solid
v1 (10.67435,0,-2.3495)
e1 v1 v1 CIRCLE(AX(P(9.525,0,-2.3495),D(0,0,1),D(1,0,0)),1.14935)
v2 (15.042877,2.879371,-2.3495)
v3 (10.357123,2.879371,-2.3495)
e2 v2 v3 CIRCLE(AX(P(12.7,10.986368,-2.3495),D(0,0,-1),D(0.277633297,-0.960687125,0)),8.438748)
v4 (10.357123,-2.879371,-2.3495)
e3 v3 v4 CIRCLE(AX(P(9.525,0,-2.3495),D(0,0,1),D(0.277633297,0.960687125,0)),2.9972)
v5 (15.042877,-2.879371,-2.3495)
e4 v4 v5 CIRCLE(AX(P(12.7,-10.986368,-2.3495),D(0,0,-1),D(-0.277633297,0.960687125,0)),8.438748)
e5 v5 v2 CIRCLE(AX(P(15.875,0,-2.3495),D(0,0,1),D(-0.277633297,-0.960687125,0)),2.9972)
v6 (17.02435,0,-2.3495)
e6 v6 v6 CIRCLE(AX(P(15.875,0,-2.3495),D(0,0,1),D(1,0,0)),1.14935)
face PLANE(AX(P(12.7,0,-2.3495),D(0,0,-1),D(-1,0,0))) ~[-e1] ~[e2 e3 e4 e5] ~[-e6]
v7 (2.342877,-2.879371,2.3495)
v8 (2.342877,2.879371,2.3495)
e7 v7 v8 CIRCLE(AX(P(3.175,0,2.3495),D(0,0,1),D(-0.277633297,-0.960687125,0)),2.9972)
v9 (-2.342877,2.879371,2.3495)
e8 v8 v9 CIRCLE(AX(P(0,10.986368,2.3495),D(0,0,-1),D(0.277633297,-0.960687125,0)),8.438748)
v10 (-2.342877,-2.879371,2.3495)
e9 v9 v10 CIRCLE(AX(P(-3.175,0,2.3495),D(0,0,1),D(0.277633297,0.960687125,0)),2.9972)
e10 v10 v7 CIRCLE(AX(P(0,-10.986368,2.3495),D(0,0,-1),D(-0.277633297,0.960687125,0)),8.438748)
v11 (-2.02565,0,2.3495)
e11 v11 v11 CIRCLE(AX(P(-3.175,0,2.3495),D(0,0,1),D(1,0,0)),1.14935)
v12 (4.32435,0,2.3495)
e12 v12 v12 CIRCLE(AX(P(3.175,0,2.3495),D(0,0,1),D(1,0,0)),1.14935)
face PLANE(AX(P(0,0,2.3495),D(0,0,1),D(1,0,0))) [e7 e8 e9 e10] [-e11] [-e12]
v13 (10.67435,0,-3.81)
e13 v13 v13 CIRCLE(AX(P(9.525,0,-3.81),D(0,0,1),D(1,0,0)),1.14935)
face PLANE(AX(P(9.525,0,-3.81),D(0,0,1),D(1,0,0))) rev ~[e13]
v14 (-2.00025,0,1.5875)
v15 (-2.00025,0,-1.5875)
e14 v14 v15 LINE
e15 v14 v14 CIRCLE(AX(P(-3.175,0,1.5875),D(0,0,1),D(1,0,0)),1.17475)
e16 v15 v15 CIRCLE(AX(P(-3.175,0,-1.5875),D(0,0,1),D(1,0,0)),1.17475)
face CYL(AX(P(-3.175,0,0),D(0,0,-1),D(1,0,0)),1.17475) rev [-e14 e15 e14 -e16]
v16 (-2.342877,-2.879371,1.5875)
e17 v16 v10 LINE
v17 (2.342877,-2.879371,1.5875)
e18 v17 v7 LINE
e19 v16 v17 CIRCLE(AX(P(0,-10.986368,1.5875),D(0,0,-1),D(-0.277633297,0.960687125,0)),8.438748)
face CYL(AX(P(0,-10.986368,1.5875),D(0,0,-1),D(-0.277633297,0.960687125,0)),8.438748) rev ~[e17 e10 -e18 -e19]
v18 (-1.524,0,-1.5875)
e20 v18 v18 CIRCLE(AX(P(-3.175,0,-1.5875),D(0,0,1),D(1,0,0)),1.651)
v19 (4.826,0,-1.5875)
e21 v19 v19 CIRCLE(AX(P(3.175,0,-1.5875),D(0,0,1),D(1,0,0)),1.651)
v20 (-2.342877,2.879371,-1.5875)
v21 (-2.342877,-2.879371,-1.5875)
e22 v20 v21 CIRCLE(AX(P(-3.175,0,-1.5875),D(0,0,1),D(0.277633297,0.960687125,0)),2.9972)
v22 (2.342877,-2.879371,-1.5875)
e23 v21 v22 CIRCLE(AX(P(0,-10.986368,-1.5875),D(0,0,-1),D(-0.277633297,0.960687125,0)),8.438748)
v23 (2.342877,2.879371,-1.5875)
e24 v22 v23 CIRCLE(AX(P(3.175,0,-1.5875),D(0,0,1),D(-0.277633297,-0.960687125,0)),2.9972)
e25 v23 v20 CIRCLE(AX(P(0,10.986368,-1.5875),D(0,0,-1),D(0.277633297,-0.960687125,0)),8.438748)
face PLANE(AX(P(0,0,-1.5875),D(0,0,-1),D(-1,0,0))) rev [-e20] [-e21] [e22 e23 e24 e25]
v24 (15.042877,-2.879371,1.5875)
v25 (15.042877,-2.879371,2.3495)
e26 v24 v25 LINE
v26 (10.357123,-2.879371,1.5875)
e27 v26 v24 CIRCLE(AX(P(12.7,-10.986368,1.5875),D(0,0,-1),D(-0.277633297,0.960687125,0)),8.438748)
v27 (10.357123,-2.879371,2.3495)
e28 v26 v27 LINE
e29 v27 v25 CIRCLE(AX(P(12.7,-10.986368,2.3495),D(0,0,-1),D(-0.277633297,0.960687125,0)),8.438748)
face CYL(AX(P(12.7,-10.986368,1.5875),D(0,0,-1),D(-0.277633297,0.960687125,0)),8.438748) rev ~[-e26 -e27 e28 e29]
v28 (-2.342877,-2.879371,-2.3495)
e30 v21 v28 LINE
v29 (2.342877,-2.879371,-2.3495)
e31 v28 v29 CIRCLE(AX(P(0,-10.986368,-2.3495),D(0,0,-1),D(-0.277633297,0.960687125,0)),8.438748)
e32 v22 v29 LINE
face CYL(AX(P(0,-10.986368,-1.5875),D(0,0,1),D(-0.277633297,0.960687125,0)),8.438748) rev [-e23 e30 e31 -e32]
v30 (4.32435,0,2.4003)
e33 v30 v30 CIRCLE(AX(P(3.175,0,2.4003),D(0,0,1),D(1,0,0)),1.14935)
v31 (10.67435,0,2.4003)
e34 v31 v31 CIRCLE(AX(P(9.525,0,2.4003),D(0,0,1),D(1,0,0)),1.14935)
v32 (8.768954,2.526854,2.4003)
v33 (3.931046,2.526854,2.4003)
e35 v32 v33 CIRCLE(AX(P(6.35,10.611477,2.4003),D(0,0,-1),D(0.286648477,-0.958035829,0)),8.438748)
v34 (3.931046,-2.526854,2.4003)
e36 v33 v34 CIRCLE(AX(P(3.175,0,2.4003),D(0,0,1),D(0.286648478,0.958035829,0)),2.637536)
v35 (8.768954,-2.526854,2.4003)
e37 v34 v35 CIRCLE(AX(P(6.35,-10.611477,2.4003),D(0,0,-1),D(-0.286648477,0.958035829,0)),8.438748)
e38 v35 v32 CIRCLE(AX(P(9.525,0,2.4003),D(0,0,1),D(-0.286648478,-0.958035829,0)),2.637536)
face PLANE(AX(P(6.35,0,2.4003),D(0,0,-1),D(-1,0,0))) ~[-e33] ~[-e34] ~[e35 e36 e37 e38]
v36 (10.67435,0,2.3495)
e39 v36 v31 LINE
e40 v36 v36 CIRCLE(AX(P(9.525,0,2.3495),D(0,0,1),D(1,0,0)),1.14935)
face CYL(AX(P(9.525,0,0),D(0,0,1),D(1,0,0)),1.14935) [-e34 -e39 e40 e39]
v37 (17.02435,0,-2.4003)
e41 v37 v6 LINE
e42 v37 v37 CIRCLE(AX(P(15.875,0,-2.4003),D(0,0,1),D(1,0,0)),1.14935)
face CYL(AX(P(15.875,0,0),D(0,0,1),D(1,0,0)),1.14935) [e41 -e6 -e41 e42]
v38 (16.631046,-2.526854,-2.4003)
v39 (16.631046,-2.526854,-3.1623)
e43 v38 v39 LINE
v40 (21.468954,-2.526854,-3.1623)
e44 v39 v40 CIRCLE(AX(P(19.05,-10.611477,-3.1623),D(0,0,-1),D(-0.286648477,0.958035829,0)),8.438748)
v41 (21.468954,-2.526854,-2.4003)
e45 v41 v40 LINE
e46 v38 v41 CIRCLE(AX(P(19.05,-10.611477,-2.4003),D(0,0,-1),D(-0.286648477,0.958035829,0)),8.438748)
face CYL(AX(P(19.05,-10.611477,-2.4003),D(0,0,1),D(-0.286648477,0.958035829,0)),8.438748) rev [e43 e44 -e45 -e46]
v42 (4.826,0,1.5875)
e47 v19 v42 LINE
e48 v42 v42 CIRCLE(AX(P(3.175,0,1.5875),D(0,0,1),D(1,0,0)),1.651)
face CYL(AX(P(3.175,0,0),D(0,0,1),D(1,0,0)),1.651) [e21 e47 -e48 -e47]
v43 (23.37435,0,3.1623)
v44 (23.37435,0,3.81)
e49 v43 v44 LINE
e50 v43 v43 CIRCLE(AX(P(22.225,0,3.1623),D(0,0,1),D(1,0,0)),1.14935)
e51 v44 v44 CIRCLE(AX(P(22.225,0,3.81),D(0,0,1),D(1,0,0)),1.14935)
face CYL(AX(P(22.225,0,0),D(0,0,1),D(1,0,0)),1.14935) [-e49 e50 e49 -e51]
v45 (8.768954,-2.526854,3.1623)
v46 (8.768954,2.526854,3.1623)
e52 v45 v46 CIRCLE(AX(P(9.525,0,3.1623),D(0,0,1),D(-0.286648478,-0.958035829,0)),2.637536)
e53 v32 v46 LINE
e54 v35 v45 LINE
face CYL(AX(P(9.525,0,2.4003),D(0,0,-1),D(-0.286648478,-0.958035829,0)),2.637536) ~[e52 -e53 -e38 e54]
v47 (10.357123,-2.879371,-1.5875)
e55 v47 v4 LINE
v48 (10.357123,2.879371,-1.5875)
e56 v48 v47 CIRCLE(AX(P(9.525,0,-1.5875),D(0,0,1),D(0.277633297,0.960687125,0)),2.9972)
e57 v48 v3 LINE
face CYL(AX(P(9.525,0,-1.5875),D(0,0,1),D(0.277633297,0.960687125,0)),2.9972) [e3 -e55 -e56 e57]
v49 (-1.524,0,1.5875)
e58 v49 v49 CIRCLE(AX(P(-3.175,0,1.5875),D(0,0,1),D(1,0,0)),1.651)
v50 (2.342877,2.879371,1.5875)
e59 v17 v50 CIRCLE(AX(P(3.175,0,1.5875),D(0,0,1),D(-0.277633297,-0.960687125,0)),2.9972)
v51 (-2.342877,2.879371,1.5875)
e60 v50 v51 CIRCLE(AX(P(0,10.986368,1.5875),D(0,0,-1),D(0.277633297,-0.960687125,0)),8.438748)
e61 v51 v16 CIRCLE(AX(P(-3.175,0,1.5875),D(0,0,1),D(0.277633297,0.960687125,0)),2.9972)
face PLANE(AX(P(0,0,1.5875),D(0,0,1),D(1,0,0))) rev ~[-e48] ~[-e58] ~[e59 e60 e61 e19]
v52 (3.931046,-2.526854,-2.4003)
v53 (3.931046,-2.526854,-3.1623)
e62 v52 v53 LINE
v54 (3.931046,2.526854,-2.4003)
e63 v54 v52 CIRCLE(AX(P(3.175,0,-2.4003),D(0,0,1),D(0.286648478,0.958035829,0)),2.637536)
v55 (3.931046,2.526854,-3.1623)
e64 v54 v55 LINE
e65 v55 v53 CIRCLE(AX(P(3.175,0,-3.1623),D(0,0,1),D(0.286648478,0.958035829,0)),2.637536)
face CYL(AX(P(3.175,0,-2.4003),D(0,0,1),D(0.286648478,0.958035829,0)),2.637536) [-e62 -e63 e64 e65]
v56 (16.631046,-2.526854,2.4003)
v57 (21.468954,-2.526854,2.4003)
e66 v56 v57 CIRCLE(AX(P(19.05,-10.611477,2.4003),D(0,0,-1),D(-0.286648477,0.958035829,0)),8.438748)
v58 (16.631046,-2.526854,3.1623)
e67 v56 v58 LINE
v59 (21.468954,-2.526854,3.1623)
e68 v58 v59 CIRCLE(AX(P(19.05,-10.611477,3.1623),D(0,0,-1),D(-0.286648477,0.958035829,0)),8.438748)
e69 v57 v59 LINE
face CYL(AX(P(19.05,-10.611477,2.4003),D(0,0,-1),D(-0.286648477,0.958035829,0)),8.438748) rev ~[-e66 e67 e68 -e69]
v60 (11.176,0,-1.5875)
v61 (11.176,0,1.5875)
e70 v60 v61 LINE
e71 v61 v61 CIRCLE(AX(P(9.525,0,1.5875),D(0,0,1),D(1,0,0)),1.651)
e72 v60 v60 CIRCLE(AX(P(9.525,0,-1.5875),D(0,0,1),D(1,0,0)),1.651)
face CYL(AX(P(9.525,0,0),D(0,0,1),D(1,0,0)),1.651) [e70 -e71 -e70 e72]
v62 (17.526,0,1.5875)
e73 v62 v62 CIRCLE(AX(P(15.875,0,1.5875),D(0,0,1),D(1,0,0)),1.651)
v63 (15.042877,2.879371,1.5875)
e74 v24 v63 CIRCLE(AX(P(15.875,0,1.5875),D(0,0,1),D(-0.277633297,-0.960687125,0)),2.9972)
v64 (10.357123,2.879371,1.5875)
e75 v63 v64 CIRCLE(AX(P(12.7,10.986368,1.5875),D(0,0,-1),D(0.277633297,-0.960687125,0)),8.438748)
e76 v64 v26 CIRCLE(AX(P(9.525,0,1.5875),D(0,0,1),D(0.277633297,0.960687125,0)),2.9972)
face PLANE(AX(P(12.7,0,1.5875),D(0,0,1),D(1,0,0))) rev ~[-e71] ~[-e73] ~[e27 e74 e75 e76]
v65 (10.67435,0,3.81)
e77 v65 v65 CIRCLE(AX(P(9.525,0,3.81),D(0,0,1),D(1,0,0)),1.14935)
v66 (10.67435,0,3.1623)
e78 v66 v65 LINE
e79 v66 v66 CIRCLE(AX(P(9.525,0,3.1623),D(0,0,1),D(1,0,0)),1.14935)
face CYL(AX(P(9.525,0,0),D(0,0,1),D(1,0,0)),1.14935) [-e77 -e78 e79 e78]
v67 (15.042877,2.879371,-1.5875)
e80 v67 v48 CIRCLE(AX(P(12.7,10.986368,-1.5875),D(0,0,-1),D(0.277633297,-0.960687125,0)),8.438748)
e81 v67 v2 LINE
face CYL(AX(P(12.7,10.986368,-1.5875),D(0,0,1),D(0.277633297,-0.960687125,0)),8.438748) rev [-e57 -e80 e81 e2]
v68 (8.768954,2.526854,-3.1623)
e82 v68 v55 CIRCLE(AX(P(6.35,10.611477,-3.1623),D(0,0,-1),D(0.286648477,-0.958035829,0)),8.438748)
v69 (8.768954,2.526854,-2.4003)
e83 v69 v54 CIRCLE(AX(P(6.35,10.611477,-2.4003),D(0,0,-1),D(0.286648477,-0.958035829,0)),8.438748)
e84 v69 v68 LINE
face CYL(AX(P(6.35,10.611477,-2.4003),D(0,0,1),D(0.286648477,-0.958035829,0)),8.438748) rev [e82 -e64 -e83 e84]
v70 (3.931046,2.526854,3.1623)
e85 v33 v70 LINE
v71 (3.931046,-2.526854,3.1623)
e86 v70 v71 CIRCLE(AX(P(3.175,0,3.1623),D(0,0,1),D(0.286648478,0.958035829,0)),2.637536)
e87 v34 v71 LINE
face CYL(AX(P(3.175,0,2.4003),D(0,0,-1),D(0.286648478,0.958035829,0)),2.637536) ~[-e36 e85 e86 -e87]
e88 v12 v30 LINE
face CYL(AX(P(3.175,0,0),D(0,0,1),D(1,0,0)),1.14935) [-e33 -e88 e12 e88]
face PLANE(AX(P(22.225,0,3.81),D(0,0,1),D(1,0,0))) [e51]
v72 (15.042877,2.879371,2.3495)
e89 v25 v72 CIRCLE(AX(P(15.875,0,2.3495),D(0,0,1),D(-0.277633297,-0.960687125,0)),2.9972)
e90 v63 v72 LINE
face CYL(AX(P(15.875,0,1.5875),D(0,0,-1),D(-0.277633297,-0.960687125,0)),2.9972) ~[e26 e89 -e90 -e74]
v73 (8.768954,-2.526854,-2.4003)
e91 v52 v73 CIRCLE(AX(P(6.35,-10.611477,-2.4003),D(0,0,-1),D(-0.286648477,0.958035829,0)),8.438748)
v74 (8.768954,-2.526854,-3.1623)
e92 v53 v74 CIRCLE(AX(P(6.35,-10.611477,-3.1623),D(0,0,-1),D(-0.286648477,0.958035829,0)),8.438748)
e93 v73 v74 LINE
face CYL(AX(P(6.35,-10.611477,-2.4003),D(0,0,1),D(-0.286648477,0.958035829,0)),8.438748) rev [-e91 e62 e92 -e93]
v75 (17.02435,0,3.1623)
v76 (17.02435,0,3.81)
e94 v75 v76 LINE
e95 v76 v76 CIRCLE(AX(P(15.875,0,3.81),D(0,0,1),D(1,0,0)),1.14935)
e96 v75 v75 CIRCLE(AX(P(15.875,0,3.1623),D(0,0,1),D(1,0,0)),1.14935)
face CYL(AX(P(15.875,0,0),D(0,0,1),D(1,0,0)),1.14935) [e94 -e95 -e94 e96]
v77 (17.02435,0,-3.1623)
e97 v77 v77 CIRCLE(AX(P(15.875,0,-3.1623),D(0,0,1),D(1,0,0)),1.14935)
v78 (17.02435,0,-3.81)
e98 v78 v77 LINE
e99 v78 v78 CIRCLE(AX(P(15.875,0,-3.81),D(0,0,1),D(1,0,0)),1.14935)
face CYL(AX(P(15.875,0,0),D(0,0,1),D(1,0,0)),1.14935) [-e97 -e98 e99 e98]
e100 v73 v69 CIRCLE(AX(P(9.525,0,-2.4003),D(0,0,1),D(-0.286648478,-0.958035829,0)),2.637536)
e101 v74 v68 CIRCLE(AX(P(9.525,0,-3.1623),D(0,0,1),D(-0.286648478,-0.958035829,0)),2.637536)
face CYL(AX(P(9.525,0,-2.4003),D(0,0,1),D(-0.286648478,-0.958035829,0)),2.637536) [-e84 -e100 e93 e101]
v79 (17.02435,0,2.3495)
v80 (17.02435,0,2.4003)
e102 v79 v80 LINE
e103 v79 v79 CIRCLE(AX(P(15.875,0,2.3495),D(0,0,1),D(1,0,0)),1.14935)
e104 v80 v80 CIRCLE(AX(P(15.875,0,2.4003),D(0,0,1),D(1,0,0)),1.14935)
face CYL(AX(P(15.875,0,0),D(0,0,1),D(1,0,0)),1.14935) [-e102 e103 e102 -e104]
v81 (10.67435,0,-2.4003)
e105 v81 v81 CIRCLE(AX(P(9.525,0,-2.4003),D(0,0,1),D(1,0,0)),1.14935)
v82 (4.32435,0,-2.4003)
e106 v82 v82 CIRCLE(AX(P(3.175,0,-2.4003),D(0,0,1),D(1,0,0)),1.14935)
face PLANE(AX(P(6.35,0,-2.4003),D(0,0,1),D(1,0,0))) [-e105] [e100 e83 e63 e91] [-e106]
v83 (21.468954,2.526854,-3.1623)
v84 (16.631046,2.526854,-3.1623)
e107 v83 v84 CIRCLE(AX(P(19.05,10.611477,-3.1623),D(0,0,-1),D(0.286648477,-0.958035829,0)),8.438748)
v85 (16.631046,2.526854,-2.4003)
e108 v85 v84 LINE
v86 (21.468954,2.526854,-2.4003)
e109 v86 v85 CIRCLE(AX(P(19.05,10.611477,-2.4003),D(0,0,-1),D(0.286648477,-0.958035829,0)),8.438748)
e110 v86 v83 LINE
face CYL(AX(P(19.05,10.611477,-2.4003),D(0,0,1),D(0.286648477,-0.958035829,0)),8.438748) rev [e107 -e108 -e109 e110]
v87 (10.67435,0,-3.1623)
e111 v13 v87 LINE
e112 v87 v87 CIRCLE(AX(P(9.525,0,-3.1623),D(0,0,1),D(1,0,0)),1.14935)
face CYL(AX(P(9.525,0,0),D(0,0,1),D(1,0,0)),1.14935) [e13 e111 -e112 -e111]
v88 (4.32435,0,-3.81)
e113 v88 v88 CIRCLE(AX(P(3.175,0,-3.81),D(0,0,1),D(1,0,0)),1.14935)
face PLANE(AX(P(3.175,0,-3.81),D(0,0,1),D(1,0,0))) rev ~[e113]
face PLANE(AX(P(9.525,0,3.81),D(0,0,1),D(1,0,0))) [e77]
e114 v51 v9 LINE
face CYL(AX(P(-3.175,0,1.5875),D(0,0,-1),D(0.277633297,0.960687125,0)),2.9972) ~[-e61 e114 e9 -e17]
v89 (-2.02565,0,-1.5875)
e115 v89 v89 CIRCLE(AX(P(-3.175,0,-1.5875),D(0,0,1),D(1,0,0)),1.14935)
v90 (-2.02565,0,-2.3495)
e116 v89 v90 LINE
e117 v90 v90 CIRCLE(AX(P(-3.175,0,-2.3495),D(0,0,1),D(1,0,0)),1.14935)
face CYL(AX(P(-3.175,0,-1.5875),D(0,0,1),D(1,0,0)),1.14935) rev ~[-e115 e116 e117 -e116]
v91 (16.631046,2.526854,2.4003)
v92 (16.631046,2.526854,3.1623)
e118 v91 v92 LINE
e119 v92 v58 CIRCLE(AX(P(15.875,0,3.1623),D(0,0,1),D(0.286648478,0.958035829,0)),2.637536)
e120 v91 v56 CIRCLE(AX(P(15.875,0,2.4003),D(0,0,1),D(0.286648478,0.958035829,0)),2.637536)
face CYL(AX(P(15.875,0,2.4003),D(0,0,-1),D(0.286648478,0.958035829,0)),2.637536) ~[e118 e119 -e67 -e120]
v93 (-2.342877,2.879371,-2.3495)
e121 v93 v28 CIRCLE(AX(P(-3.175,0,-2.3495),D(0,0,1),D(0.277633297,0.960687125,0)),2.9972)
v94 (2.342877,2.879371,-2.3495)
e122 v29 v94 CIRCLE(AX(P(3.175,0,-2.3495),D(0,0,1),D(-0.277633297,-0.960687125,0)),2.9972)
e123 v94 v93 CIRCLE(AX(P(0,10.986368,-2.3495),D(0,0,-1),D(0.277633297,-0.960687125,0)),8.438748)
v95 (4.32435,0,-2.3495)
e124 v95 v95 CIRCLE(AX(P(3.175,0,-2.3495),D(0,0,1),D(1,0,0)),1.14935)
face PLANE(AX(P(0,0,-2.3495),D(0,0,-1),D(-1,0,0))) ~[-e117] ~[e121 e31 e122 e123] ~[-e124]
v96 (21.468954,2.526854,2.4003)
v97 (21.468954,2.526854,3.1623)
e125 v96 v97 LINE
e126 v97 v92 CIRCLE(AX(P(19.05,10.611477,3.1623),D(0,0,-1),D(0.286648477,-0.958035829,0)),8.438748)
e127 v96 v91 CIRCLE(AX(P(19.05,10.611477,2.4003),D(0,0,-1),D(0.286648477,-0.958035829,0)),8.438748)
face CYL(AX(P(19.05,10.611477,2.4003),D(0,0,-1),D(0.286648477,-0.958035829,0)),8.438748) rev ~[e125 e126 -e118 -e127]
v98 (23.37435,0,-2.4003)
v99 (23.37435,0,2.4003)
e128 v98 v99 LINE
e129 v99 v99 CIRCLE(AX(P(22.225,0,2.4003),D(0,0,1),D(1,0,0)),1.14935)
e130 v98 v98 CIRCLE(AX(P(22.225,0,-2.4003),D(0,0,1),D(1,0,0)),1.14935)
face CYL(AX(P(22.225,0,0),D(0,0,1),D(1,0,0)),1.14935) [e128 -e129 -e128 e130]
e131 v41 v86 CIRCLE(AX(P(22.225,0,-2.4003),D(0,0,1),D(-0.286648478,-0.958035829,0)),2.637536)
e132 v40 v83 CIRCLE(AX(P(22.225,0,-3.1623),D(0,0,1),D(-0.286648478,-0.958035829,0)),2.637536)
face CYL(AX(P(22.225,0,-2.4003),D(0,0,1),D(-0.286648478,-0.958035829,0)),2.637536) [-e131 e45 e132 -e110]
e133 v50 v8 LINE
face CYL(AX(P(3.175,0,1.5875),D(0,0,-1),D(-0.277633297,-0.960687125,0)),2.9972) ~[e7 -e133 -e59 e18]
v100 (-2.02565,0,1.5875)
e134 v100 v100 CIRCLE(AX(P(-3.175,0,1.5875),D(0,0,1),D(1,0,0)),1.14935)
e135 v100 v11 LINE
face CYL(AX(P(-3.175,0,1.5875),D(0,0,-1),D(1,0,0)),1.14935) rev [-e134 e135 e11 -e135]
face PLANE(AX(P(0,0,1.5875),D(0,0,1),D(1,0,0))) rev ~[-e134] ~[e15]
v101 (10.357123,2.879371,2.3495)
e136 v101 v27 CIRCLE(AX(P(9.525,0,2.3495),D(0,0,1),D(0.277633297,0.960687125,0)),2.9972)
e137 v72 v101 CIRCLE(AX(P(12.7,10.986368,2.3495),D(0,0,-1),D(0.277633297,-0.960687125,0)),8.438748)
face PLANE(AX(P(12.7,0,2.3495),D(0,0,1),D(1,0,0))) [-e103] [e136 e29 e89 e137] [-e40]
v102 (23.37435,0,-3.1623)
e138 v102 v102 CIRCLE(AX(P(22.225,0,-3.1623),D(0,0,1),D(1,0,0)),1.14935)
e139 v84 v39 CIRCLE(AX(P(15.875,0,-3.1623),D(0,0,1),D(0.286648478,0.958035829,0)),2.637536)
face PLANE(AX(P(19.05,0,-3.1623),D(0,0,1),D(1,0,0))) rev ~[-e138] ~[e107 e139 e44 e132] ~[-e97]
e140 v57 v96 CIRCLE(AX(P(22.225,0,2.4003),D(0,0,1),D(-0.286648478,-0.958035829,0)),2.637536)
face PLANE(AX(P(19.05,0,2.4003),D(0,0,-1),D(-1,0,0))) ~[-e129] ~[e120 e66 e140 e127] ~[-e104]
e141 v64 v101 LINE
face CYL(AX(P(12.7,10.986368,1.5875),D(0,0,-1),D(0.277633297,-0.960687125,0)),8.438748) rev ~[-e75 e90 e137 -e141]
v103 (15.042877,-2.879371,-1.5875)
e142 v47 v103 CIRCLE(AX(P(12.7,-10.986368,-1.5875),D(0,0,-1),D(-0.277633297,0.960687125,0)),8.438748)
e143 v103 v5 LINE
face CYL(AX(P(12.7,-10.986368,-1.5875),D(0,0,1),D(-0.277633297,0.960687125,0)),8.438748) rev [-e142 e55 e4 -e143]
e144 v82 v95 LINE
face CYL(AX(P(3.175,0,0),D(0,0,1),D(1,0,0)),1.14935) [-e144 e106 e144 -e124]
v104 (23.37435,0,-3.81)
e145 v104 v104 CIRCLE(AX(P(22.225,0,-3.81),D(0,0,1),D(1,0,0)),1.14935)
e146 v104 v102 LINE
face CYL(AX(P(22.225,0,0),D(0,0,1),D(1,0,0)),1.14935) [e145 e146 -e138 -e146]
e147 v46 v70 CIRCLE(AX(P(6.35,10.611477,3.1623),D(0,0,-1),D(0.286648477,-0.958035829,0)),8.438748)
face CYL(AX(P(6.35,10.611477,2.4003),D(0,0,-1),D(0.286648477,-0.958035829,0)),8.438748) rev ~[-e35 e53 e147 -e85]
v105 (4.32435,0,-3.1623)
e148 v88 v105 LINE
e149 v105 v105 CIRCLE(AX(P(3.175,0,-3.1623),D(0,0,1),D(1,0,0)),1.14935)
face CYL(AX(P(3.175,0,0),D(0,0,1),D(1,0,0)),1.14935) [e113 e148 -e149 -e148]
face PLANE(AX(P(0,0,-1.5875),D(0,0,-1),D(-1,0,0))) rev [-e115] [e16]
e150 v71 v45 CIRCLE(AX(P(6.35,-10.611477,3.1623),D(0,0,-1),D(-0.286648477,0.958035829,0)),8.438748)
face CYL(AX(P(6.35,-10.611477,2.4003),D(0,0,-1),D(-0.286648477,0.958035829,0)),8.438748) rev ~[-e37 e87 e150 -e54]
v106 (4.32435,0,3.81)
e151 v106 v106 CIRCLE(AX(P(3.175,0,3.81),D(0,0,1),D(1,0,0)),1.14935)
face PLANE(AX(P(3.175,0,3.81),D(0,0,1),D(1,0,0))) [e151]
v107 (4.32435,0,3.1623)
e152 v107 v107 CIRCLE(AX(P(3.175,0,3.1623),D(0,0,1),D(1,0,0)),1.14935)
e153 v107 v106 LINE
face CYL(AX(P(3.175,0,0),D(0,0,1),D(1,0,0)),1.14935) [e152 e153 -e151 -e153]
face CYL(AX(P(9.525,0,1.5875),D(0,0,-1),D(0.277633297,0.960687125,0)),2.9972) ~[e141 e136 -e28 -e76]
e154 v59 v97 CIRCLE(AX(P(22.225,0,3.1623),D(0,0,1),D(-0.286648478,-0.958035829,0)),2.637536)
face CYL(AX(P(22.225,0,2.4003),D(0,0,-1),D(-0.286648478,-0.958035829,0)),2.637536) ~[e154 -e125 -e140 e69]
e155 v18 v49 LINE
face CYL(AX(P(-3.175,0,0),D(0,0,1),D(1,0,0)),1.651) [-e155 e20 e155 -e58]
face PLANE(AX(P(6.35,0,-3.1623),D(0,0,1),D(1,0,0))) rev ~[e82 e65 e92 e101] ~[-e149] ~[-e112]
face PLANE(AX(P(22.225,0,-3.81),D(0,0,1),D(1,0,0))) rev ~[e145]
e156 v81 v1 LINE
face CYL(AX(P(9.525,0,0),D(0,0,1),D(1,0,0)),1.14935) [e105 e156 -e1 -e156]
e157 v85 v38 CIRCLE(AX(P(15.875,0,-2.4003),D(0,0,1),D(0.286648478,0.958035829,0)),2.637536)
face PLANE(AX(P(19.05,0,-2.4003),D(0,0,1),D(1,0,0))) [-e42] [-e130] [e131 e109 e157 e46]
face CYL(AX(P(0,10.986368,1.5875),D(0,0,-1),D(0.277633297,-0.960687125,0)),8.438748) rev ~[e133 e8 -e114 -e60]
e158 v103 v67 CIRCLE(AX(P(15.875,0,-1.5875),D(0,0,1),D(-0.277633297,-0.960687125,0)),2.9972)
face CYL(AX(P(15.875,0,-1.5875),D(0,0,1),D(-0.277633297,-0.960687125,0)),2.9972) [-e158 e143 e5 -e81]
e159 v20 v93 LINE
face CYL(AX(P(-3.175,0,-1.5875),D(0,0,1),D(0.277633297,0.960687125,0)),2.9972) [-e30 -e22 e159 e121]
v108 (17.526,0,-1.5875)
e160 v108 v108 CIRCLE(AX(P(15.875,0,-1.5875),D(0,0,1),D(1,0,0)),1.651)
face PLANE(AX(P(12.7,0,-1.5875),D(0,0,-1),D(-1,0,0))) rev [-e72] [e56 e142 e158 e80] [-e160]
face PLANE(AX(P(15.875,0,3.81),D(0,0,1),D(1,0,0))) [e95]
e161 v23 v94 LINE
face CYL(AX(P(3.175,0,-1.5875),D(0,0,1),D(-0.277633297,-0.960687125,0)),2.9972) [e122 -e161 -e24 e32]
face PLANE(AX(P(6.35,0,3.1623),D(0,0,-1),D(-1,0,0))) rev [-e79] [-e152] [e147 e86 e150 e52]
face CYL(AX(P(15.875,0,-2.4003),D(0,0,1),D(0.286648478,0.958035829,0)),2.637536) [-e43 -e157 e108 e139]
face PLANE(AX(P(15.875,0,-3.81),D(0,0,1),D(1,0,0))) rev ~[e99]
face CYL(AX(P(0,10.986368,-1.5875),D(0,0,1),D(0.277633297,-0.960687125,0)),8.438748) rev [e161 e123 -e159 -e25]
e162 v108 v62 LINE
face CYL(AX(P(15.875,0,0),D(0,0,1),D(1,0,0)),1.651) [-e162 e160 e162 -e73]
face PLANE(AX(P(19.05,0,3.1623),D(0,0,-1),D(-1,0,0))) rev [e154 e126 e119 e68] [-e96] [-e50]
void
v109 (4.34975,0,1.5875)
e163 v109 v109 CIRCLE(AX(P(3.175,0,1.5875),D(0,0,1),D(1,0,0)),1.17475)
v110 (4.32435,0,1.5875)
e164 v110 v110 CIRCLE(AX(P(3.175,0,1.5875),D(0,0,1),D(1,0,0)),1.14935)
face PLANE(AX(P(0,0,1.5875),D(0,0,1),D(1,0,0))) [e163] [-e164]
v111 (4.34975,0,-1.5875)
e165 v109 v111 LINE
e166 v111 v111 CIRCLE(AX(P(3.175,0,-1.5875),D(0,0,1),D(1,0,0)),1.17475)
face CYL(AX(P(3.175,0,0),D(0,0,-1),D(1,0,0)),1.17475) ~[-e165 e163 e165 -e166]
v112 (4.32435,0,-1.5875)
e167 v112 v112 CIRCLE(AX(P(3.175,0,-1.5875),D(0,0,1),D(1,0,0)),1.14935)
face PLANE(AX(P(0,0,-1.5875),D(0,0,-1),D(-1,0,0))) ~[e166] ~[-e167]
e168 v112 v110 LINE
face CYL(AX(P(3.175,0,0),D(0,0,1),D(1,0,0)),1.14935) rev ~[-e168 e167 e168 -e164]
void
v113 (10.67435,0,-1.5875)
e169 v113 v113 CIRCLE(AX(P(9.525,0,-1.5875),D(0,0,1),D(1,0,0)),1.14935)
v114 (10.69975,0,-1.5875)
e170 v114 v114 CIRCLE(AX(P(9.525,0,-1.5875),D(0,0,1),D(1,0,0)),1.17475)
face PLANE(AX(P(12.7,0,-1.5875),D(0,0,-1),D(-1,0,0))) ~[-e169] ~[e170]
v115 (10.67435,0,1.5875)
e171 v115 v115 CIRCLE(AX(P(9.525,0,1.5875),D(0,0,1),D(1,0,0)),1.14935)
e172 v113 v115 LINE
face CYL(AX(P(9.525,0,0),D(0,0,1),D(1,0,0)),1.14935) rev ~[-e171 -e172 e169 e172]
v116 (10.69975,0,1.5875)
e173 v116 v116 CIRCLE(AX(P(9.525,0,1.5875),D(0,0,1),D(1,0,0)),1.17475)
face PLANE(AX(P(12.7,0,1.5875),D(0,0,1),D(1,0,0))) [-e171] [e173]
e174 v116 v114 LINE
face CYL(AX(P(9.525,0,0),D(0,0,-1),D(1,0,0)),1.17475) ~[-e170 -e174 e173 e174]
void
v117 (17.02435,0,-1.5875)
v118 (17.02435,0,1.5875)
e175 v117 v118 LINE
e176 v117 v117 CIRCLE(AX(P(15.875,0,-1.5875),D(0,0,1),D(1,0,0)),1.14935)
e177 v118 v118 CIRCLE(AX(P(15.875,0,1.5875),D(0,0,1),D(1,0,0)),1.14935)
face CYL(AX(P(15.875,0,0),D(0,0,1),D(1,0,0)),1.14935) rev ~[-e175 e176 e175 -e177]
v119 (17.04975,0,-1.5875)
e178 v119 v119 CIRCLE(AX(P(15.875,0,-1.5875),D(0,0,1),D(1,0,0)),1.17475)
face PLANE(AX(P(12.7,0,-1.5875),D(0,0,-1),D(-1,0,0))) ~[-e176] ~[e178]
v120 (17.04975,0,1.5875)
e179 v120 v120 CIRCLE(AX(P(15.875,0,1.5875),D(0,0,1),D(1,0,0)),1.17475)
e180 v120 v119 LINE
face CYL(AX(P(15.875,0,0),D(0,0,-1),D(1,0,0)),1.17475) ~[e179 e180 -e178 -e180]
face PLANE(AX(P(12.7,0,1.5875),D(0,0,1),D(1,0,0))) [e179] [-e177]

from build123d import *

# Parameters (mm, degrees)
SKETCH4_R                  = 1.651
SKETCH4_R_2                = 1.17475
BOSS_EXTRUDE1_DEPTH        = 1.5875
BOSS_EXTRUDE1_2_DEPTH      = 1.5875
SKETCH5_R                  = 1.14935
BOSS_EXTRUDE2_DEPTH        = 0.762
LPATTERN1_COUNT            = 2
LPATTERN1_PITCH            = 6.35
SKETCH7_R                  = 1.14935
BOSS_EXTRUDE3_DEPTH        = 0.762
SKETCH8_R                  = 1.14935
BOSS_EXTRUDE4_DEPTH        = 3.81
BOSS_EXTRUDE4_DEPTH_BACK   = 3.81
BOSS_EXTRUDE4_2_DEPTH      = 3.81
BOSS_EXTRUDE4_2_DEPTH_BACK = 3.81
LPATTERN2_COUNT            = 2
LPATTERN2_PITCH            = 12.7


with BuildPart() as part:
    # Sketch4 → Boss-Extrude1 (new body, symmetric)
    with BuildSketch(Plane.XY):
        with Locations((-3.175, 0)):
            Circle(SKETCH4_R)
        with Locations((-3.175, 0)):
            Circle(SKETCH4_R_2, mode=Mode.SUBTRACT)
    extrude(amount=BOSS_EXTRUDE1_DEPTH, both=True)


with BuildPart() as body_2:
    # Sketch4 → Boss-Extrude1 2 (new body, symmetric)
    with BuildSketch(Plane.XY):
        with Locations((3.175, 0)):
            Circle(SKETCH4_R)
        with Locations((3.175, 0)):
            Circle(SKETCH4_R_2, mode=Mode.SUBTRACT)
    extrude(amount=BOSS_EXTRUDE1_2_DEPTH, both=True)


with BuildPart() as body_3:
    # Sketch5 → Boss-Extrude2 (new body)
    with BuildSketch(Plane.XY.offset(1.5875)):
        with BuildLine():
            ThreePointArc((-2.342877482, 2.879371452), (-6.1722, 0), (-2.342877482, -2.879371452))
            ThreePointArc((-2.342877482, -2.879371452), (0, -2.54762), (2.342877482, -2.879371452))
            ThreePointArc((2.342877482, -2.879371452), (6.1722, 0), (2.342877482, 2.879371452))
            ThreePointArc((2.342877482, 2.879371452), (0, 2.54762), (-2.342877482, 2.879371452))
        make_face()
        with Locations((-3.175, 0)):
            Circle(SKETCH5_R, mode=Mode.SUBTRACT)
        with Locations((3.175, 0)):
            Circle(SKETCH5_R, mode=Mode.SUBTRACT)
    extrude(amount=BOSS_EXTRUDE2_DEPTH)


with BuildPart() as lpattern1_1:
    # LPattern1: pattern copy
    add(body_2.part.moved(Location(Vector(1, 0, 0) * (1 * LPATTERN1_PITCH))))


with BuildPart() as body_5:
    # Sketch7 → Boss-Extrude3 (new body)
    with BuildSketch(Plane.XY.offset(-2.4003)):
        with BuildLine():
            ThreePointArc((3.931045679, 2.526853989), (0.537464, 0), (3.931045679, -2.526853989))
            ThreePointArc((3.931045679, -2.526853989), (6.35, -2.17272892), (8.768954321, -2.526853989))
            ThreePointArc((8.768954321, -2.526853989), (12.162536, 0), (8.768954321, 2.526853989))
            ThreePointArc((8.768954321, 2.526853989), (6.35, 2.17272892), (3.931045679, 2.526853989))
        make_face()
        with Locations((3.175, 0)):
            Circle(SKETCH7_R, mode=Mode.SUBTRACT)
        with Locations((9.525, 0)):
            Circle(SKETCH7_R, mode=Mode.SUBTRACT)
    extrude(amount=-BOSS_EXTRUDE3_DEPTH)


with BuildPart() as body_6:
    # Mirror1: mirrored copy
    add(body_3.part.mirror(Plane.XY))


with BuildPart() as body_7:
    # Mirror1 2: mirrored copy
    add(body_5.part.mirror(Plane.XY))


with BuildPart() as body_8:
    # Sketch8 → Boss-Extrude4 (new body, two sides)
    with BuildSketch(Plane.XY) as boss_extrude4_sk:
        with Locations((3.175, 0)):
            Circle(SKETCH8_R)
    extrude(amount=BOSS_EXTRUDE4_DEPTH)
    extrude(boss_extrude4_sk.sketch, amount=-BOSS_EXTRUDE4_DEPTH_BACK)


with BuildPart() as body_9:
    # Sketch8 → Boss-Extrude4 2 (new body, two sides)
    with BuildSketch(Plane.XY) as boss_extrude4_2_sk:
        with Locations((9.525, 0)):
            Circle(SKETCH8_R)
    extrude(amount=BOSS_EXTRUDE4_2_DEPTH)
    extrude(boss_extrude4_2_sk.sketch, amount=-BOSS_EXTRUDE4_2_DEPTH_BACK)


with BuildPart() as lpattern2_1:
    # LPattern2: pattern copy
    add(body_9.part.moved(Location(Vector(1, 0, 0) * (1 * LPATTERN2_PITCH))))


with BuildPart() as lpattern2_2:
    # LPattern2: pattern copy
    add(body_8.part.moved(Location(Vector(1, 0, 0) * (1 * LPATTERN2_PITCH))))


with BuildPart() as lpattern2_3:
    # LPattern2: pattern copy
    add(body_7.part.moved(Location(Vector(1, 0, 0) * (1 * LPATTERN2_PITCH))))


with BuildPart() as lpattern2_4:
    # LPattern2: pattern copy
    add(body_6.part.moved(Location(Vector(1, 0, 0) * (1 * LPATTERN2_PITCH))))


with BuildPart() as lpattern2_5:
    # LPattern2: pattern copy
    add(body_5.part.moved(Location(Vector(1, 0, 0) * (1 * LPATTERN2_PITCH))))


with BuildPart() as lpattern2_6:
    # LPattern2: pattern copy
    add(lpattern1_1.part.moved(Location(Vector(1, 0, 0) * (1 * LPATTERN2_PITCH))))


with BuildPart() as lpattern2_7:
    # LPattern2: pattern copy
    add(body_3.part.moved(Location(Vector(1, 0, 0) * (1 * LPATTERN2_PITCH))))


with BuildPart() as lpattern2_8:
    # LPattern2: pattern copy
    add(body_2.part.moved(Location(Vector(1, 0, 0) * (1 * LPATTERN2_PITCH))))


with BuildPart() as lpattern2_9:
    # LPattern2: pattern copy
    add(part.part.moved(Location(Vector(1, 0, 0) * (1 * LPATTERN2_PITCH))))


with BuildPart() as body_2_1:
    add(body_2.part)

    # Combine1: union body 3, LPattern1_1, body 5, body 6, body 7, body 8, body 9, LPattern2_1, LPattern2_2, LPattern2_3, LPattern2_4, LPattern2_5, LPattern2_7, LPattern2_8, LPattern2_9, part
    add(body_3.part)
    add(lpattern1_1.part)
    add(body_5.part)
    add(body_6.part)
    add(body_7.part)
    add(body_8.part)
    add(body_9.part)
    add(lpattern2_1.part)
    add(lpattern2_2.part)
    add(lpattern2_3.part)
    add(lpattern2_4.part)
    add(lpattern2_5.part)
    add(lpattern2_7.part)
    add(lpattern2_8.part)
    add(lpattern2_9.part)
    add(part.part)


solid = body_2_1.part
